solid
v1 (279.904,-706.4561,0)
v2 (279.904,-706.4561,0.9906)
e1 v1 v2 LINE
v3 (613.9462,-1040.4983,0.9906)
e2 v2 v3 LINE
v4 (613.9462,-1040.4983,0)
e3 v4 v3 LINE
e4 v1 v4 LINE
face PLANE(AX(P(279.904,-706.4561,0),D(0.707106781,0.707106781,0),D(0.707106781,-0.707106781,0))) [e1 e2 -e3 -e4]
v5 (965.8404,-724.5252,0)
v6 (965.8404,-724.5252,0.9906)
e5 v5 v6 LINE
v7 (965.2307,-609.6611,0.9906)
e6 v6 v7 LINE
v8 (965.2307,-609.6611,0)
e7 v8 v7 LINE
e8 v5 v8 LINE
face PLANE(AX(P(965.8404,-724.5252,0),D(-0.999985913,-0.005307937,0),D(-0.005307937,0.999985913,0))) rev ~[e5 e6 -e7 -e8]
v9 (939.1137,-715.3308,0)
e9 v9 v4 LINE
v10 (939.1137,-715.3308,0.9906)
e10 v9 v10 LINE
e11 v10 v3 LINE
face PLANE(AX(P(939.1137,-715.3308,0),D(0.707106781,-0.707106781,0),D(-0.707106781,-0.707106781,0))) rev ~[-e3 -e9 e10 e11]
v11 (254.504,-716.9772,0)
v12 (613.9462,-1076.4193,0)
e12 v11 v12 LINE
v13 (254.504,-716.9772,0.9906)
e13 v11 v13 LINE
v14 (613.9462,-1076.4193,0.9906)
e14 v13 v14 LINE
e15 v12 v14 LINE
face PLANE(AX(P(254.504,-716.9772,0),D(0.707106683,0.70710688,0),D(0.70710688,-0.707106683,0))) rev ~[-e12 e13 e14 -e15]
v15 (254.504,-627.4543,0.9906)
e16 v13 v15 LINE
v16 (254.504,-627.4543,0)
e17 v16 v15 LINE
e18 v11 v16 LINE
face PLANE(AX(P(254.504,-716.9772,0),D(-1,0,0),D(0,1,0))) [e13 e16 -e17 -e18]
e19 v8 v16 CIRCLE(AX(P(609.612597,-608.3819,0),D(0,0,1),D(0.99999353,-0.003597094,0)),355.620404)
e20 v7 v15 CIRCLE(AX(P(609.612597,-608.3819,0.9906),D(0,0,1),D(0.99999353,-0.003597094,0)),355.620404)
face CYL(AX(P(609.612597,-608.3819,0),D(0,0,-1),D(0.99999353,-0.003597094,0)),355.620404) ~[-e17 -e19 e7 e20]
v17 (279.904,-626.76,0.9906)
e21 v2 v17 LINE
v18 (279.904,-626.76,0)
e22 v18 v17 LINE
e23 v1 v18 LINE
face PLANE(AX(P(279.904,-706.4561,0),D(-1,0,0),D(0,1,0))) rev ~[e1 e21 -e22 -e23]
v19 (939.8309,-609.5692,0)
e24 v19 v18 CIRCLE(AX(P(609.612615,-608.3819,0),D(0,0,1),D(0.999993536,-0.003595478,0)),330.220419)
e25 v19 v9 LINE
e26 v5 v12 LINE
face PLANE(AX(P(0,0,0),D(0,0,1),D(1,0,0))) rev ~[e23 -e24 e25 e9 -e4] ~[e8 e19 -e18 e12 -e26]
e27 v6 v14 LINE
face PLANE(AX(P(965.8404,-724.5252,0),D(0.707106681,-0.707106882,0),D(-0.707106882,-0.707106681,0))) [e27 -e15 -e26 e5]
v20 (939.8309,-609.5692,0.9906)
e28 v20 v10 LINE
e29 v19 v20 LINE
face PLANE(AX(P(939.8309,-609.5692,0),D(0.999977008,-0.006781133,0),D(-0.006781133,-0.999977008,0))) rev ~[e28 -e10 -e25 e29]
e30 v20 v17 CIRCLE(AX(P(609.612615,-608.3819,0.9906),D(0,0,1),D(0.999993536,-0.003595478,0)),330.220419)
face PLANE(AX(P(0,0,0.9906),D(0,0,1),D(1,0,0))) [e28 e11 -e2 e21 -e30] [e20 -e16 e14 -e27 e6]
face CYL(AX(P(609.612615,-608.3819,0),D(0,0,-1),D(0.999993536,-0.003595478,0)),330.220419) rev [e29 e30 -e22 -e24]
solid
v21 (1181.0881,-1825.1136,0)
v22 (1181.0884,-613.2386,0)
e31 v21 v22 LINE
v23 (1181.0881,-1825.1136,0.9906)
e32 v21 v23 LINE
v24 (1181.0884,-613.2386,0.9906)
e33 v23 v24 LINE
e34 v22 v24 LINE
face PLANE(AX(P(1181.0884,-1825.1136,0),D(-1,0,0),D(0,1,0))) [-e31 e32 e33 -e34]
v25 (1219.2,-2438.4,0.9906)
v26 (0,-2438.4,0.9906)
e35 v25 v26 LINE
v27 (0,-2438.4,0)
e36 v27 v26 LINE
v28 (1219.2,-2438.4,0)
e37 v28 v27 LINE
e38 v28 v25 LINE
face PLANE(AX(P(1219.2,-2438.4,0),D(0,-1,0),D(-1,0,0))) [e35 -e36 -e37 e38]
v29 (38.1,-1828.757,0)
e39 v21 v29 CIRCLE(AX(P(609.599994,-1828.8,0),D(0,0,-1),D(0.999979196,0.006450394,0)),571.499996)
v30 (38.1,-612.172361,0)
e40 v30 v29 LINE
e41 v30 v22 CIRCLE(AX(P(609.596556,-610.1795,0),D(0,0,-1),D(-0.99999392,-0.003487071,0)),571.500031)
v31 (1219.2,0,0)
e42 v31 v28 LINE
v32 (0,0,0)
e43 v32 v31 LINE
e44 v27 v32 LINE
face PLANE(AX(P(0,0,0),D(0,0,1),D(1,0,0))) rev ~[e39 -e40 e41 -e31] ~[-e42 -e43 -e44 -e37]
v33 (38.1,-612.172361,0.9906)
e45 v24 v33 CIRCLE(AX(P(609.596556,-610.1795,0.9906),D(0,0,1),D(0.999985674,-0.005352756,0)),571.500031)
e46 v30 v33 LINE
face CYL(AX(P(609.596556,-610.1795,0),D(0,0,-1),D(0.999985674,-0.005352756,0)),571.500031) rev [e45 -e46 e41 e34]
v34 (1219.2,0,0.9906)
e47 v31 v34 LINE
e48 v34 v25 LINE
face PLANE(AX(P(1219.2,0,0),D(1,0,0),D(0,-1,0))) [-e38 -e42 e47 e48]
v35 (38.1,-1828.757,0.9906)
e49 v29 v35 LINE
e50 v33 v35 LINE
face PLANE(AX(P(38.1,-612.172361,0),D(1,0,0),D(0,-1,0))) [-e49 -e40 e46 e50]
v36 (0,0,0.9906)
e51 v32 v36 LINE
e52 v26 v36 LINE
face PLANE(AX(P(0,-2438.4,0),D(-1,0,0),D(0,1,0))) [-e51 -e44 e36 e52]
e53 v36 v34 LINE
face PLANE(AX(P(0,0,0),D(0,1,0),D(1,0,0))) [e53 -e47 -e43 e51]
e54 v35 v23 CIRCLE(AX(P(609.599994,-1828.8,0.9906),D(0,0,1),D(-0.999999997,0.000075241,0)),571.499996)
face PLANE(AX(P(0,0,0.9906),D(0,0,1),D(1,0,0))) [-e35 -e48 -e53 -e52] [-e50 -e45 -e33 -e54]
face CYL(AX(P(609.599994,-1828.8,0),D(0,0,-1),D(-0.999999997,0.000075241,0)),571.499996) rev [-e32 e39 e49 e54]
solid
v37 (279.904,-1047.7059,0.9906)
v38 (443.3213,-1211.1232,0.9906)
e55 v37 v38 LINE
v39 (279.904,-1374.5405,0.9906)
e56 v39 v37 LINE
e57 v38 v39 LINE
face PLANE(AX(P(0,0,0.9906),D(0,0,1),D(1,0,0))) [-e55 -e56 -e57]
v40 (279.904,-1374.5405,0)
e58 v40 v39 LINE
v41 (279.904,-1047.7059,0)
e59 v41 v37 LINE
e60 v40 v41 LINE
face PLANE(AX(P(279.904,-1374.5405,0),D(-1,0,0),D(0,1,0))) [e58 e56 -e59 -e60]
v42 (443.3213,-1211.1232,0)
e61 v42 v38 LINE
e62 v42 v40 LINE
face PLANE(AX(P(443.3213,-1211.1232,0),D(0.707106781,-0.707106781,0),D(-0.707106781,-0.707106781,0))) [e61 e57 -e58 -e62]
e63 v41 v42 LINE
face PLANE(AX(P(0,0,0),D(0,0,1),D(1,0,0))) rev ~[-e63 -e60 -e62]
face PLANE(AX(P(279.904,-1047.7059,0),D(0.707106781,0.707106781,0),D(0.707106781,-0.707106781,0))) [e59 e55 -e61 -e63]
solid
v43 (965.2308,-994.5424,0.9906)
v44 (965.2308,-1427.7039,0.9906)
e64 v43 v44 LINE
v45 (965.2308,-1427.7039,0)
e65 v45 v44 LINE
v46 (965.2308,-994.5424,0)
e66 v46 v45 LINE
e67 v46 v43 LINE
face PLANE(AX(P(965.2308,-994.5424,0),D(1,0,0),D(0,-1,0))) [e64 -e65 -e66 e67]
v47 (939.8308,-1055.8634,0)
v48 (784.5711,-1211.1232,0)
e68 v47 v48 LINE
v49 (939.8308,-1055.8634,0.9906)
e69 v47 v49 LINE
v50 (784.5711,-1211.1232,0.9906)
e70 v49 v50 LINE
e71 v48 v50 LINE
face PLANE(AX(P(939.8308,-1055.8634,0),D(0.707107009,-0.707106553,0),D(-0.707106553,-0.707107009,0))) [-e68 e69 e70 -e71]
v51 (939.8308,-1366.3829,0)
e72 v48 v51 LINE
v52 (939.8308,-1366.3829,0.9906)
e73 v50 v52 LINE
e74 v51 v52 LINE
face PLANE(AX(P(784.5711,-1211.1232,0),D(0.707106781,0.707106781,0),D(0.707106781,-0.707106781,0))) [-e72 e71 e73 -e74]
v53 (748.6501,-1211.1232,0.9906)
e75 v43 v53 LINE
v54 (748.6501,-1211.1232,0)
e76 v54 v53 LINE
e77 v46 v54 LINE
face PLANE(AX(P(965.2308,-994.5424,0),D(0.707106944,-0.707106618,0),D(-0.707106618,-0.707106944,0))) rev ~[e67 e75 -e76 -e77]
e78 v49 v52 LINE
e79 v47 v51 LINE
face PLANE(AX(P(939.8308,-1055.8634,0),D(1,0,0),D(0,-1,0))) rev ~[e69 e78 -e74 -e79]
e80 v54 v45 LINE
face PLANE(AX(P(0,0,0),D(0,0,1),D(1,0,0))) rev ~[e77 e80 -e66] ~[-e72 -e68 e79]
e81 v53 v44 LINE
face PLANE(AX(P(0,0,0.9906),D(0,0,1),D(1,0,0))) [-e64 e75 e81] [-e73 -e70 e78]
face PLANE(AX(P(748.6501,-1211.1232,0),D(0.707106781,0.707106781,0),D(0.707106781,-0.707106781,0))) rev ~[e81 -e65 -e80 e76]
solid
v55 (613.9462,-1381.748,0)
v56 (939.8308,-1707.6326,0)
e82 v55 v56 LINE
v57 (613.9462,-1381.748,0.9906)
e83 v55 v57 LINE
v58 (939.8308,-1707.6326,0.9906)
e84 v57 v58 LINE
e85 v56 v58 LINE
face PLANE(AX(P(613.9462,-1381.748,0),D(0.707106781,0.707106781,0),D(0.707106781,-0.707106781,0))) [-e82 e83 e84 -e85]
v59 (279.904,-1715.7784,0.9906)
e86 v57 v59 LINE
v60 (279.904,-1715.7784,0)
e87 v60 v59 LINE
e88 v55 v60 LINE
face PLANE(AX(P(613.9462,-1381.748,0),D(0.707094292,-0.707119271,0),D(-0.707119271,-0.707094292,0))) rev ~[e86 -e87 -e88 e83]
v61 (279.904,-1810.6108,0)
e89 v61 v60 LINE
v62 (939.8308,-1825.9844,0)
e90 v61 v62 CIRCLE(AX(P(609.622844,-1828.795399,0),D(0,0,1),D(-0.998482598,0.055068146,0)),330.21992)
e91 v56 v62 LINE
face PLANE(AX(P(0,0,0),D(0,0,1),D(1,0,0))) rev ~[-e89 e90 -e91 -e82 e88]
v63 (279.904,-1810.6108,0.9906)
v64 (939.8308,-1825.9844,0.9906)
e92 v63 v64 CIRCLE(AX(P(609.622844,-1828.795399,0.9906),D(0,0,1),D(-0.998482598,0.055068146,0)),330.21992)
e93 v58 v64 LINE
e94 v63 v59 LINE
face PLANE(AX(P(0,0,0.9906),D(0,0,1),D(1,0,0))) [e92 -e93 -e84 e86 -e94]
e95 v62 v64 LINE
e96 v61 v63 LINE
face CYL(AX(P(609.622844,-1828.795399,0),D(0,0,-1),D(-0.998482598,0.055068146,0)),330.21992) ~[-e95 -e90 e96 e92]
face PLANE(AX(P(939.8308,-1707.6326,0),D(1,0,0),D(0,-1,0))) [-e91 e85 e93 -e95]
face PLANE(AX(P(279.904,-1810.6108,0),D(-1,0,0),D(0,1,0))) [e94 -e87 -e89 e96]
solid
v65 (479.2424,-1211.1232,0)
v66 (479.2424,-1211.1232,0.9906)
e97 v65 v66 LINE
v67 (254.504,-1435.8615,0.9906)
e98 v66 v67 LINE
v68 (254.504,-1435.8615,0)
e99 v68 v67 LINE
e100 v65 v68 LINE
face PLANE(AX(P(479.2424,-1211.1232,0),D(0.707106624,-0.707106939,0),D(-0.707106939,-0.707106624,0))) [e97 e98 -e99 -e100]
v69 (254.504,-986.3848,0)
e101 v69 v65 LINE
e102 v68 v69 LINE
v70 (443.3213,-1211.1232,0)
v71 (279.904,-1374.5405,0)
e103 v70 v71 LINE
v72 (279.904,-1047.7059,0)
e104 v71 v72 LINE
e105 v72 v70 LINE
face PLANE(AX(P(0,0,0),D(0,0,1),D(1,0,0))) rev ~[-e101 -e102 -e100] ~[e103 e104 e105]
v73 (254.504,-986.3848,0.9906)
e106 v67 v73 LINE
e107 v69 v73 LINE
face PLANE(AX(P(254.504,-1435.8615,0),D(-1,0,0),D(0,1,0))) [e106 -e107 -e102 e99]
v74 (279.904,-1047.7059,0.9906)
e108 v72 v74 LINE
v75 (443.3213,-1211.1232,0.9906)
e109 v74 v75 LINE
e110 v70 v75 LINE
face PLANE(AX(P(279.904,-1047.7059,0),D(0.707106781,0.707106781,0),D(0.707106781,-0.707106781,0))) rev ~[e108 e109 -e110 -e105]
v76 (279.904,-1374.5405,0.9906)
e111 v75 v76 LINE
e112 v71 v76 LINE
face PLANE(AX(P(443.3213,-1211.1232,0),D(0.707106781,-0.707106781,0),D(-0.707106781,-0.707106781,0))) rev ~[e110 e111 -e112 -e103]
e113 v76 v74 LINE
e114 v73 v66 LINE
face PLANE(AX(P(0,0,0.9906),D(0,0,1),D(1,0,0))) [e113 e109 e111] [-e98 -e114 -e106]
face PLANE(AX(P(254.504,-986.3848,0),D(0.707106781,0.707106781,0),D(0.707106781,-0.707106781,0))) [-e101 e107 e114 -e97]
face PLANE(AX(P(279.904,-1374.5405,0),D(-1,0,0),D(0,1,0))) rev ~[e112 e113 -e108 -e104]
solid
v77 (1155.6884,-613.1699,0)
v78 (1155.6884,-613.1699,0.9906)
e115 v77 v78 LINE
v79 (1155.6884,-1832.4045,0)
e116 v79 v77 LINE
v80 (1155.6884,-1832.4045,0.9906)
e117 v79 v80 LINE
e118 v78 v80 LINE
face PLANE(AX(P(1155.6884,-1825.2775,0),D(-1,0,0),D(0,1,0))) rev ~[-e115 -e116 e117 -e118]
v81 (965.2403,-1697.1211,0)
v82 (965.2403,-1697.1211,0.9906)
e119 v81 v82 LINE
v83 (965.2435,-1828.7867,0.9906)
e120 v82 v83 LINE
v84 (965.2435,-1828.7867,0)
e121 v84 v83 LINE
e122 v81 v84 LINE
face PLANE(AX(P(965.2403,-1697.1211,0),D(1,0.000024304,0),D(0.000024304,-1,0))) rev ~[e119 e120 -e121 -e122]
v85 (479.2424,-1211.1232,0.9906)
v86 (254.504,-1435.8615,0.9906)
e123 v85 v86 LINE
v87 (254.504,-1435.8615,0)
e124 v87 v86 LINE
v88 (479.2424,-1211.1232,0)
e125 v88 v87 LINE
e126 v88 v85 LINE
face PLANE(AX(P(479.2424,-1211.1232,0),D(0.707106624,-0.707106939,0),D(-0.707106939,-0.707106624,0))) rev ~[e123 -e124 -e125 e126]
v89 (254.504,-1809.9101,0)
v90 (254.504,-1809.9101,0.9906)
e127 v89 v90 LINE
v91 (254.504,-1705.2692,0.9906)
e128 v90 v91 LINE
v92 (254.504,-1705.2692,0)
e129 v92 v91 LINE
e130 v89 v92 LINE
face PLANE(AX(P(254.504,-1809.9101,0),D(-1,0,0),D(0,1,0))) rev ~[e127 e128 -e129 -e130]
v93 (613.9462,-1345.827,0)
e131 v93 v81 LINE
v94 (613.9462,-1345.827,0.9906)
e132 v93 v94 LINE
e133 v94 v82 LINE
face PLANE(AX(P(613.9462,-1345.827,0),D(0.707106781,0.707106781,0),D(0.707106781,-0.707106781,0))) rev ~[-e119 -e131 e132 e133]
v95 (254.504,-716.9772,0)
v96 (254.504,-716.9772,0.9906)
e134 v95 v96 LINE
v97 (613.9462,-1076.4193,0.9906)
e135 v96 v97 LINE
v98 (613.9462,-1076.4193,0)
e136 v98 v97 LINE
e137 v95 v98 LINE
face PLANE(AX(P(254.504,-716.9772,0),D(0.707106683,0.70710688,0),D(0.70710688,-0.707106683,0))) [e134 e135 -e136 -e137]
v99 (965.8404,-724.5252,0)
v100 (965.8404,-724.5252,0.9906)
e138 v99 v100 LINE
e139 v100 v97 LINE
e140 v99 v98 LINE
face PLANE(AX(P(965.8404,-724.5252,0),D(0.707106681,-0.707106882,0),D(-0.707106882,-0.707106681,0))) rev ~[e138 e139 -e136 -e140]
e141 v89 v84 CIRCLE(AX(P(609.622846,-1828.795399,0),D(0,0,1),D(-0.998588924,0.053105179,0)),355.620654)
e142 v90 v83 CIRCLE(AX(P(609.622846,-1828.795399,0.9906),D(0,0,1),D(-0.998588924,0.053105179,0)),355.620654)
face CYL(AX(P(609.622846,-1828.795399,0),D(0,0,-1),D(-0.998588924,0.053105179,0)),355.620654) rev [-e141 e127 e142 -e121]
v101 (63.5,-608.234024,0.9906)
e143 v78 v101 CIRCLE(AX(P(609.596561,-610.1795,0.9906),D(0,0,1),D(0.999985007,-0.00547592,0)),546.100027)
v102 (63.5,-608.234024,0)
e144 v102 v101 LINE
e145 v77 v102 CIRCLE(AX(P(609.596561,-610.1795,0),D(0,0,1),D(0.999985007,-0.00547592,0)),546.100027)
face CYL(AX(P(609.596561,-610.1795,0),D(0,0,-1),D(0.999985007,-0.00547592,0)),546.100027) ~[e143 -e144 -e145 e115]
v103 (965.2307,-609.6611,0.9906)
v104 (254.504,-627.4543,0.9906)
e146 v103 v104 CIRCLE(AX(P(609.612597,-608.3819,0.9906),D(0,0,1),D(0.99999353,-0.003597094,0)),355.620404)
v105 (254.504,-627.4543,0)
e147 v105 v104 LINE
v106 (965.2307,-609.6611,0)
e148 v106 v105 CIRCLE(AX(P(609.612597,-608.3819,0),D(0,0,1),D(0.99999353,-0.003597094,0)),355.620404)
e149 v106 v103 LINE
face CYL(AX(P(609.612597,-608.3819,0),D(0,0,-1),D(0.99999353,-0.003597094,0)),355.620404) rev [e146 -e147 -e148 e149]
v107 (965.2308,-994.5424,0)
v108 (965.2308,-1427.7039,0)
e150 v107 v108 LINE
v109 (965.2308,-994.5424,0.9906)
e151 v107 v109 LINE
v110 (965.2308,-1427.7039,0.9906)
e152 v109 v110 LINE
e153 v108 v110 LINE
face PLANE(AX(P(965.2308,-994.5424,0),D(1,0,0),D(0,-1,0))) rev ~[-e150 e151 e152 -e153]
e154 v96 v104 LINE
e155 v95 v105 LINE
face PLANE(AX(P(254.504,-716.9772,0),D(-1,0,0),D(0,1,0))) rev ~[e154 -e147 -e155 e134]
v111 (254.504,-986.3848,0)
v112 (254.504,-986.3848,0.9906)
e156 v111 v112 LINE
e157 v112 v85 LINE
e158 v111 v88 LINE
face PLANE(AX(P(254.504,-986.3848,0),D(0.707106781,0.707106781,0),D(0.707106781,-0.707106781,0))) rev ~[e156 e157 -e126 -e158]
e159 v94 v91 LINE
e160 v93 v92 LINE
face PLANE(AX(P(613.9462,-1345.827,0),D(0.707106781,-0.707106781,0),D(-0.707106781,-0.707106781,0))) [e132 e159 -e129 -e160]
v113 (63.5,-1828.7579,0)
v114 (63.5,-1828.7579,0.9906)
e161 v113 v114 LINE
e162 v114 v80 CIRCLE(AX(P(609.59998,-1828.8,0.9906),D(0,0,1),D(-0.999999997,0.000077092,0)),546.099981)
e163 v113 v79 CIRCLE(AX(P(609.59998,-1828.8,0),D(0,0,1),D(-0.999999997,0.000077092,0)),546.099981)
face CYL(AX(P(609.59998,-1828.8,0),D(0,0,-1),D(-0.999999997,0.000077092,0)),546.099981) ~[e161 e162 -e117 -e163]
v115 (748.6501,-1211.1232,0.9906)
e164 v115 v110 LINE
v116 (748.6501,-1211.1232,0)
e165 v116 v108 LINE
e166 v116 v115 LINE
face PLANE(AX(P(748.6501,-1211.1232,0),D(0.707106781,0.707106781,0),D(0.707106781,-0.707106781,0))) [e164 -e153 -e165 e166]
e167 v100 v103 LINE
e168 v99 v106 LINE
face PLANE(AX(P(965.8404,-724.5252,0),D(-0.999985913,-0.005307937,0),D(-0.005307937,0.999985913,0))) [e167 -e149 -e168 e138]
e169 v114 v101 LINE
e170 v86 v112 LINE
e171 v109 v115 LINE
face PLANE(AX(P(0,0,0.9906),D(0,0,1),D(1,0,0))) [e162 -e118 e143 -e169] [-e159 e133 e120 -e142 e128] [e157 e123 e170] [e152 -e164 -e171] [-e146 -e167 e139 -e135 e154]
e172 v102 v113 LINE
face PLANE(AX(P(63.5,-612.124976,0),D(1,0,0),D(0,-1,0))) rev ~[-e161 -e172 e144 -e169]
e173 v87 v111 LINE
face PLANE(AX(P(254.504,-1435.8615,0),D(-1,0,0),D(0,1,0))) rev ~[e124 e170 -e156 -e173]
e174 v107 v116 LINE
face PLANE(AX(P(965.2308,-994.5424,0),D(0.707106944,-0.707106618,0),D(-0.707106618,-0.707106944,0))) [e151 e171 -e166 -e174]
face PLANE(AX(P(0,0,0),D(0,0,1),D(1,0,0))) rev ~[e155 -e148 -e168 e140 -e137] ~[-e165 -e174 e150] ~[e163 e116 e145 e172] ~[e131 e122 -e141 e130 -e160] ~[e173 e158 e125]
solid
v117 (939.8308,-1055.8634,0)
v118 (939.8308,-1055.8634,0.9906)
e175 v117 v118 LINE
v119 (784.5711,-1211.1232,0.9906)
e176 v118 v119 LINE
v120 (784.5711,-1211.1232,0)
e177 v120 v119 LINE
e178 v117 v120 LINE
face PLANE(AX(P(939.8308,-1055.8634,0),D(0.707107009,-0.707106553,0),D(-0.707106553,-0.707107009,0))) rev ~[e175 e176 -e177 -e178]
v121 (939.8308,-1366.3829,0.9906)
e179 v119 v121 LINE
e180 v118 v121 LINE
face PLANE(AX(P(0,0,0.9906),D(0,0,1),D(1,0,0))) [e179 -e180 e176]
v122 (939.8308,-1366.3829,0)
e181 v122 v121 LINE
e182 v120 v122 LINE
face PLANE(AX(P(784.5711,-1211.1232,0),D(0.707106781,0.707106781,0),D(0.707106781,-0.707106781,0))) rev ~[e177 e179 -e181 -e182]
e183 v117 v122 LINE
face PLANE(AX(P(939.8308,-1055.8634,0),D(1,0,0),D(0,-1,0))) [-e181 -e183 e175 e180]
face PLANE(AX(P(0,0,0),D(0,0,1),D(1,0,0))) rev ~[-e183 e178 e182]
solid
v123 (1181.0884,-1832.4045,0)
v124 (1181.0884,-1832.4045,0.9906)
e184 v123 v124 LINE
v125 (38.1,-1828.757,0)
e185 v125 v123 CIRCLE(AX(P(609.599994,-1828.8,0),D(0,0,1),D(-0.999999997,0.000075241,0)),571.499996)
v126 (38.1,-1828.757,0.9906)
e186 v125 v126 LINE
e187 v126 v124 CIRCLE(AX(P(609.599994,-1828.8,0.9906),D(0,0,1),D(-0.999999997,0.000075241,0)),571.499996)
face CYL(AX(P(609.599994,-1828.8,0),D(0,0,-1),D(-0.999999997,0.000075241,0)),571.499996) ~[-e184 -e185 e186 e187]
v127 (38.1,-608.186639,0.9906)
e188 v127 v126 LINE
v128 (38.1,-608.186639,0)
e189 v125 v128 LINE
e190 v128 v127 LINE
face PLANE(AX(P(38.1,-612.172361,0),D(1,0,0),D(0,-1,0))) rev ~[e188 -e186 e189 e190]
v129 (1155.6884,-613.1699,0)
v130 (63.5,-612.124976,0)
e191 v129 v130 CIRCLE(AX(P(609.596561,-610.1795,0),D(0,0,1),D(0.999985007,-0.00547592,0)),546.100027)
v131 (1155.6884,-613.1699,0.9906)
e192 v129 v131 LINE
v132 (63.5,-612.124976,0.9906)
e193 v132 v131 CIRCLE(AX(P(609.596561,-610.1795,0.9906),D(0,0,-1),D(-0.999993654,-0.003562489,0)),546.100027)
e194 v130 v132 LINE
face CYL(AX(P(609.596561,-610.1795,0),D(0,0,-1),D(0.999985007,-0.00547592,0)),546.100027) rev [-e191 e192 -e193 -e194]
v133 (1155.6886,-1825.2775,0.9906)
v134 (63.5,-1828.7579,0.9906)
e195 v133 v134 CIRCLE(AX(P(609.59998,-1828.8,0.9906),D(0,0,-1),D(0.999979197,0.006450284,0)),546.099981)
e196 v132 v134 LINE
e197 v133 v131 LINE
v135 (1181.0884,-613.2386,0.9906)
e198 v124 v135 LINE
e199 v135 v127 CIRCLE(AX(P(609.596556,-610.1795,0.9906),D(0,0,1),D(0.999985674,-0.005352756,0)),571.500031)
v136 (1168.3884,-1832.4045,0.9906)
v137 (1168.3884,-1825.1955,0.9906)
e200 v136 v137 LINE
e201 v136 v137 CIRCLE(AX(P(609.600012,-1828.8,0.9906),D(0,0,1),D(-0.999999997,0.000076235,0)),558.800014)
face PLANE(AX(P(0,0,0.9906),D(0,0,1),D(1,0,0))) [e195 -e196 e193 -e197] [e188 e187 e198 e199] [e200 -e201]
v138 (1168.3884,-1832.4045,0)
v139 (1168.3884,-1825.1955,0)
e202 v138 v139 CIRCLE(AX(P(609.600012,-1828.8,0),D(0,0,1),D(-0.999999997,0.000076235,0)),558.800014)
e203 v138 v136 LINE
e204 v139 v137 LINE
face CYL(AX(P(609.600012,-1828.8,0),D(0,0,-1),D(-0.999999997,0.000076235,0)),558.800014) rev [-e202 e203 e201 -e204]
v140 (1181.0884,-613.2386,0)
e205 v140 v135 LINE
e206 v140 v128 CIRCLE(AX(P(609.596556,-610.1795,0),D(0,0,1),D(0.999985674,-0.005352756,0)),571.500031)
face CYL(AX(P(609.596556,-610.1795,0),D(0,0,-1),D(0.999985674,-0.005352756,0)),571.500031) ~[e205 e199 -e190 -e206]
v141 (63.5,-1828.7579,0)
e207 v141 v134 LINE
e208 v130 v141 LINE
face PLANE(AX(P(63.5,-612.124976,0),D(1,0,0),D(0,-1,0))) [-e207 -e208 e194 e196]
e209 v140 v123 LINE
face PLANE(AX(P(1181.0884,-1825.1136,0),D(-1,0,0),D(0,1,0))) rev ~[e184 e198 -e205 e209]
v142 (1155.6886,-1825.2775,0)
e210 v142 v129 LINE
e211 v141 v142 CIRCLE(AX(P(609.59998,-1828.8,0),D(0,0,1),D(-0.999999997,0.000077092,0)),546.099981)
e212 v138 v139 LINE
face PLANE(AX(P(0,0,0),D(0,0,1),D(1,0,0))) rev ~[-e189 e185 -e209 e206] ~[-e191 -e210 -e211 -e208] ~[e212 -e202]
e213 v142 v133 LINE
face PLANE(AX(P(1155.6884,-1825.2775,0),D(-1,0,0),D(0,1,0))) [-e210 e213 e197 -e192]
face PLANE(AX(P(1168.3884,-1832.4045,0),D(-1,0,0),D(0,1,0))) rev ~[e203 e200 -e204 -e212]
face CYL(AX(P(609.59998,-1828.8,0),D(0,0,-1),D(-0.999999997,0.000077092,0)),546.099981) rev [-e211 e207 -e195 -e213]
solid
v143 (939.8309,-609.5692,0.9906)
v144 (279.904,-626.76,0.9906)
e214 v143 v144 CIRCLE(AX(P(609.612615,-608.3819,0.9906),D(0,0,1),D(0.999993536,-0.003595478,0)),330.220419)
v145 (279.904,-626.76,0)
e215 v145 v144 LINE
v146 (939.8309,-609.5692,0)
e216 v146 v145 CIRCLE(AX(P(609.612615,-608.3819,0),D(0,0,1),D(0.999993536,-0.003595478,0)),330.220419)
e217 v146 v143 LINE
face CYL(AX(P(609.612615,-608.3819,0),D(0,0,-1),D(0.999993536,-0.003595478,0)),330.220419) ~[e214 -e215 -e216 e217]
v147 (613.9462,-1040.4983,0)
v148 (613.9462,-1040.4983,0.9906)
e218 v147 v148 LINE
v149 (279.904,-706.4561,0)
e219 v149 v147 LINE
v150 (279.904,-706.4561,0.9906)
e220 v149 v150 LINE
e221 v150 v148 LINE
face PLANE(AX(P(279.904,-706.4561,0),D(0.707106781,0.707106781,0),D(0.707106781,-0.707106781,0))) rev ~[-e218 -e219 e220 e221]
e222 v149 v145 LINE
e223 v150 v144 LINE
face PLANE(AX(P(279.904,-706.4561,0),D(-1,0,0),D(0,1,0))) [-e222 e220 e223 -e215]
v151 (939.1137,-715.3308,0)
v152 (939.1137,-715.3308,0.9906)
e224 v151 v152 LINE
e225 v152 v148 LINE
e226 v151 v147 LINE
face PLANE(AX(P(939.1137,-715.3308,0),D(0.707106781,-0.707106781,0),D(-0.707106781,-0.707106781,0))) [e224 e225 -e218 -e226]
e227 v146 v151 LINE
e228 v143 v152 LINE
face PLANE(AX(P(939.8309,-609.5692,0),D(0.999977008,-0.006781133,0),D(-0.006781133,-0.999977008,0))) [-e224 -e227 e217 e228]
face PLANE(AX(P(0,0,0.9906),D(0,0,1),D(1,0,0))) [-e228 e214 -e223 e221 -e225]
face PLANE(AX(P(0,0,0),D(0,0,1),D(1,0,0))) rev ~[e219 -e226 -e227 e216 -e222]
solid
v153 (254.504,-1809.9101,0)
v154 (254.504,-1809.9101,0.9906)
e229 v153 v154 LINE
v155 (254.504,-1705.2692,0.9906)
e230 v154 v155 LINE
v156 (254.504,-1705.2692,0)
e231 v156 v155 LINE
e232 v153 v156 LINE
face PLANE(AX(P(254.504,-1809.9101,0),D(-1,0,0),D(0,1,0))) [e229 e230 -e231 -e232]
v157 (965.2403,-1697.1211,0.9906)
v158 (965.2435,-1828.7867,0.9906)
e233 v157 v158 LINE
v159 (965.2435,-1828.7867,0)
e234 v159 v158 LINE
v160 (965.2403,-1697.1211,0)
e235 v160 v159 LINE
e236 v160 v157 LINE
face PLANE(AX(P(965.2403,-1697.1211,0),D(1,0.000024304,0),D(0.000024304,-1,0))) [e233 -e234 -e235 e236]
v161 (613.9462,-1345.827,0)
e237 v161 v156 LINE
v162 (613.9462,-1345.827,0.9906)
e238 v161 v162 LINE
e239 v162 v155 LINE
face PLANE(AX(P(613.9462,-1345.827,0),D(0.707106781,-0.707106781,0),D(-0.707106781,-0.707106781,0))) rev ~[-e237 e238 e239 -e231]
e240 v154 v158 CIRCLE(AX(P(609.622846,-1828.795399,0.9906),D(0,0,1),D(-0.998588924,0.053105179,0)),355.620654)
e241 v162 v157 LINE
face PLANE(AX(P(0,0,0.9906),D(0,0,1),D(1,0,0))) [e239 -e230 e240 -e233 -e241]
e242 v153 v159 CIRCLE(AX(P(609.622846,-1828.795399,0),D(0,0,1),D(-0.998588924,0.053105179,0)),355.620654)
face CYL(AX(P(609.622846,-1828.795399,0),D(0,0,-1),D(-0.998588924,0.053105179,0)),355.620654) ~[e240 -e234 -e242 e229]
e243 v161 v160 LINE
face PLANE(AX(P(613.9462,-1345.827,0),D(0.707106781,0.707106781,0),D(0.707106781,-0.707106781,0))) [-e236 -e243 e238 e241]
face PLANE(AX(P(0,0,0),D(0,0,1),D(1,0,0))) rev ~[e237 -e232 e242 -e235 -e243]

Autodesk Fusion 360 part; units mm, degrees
sketch "Sketch3" plane through (0, 0, 0) normal (0, 0, 1) x (1, 0, 0)
  line L0 (0, 0) -> (1219.2, 0)
  line L1 (1219.2, 0) -> (1219.2, -2438.4)
  line L2 (1219.2, -2438.4) -> (0, -2438.4)
  line L3 (0, -2438.4) -> (0, 0)
  line L4 (50.8, -612.14) -> (50.8, -1828.7574)
  line L5 (1168.3884, -1832.4045) -> (1168.3884, -613.2045)
  line L6 (266.7088, -711.2214) -> (1236.5646, -711.2214) construction
  arc A0 (1168.3884, -613.2045) -> (50.8, -612.14) centre (609.5966, -610.1795) ccw
  line L7 (956.7703, -715.6347) -> (952.5308, -719.8742)
  arc A1 (952.5308, -609.6133) -> (267.204, -627.1104) centre (609.6126, -608.3819) ccw
  arc A2 (50.8, -1828.7574) -> (1168.3884, -1825.1955) centre (609.6, -1828.8) ccw
  arc A3 (267.204, -1810.2641) -> (952.5308, -1825.9311) centre (609.6229, -1828.7954) ccw
  line L8 (267.204, -1017.0454) -> (461.2819, -1211.1232)
  line L9 (613.9462, -1363.7875) -> (952.5308, -1702.3721)
  line L10 (932.9449, -739.4601) -> (613.9462, -1058.4588)
  line L11 (461.2819, -1211.1232) -> (267.204, -1405.201)
  line L12 (266.7088, -711.2214) -> (613.9462, -1058.4588)
  line L13 (766.6106, -1211.1232) -> (952.5308, -1397.0434)
  line L14 (952.5308, -1025.2029) -> (766.6106, -1211.1232)
  line L15 (613.9462, -1363.7875) -> (270.9285, -1706.8053)
  line L16 (267.204, -711.7167) -> (267.204, -627.1104)
  line L17 (952.5308, -609.6133) -> (952.5308, -719.8742)
  line L18 (952.5308, -1025.2029) -> (952.5308, -1397.0434)
  line L19 (952.5308, -1702.3721) -> (952.5308, -1825.9311)
  line L20 (267.204, -1810.2641) -> (267.204, -1710.5297)
  line L21 (267.204, -1405.201) -> (267.204, -1017.0454)
  line L22 (1181.0884, -1832.4045) -> (1181.0884, -613.2386)
  arc A4 (1181.0884, -613.2386) -> (38.1055, -613.3823) centre (609.5966, -610.1795) ccw
  line L23 (1155.6884, -1832.4045) -> (1155.6884, -613.1699)
  arc A5 (1155.6884, -613.1699) -> (63.5051, -613.2381) centre (609.5966, -610.1795) ccw
  line L24 (38.1, -606.1098) -> (38.1, -1828.757)
  arc A6 (38.1, -1828.757) -> (1181.0881, -1825.1136) centre (609.6, -1828.8) ccw
  line L25 (63.5, -606.1098) -> (63.5, -1828.7579)
  arc A7 (63.5, -1828.7579) -> (1155.6886, -1825.2775) centre (609.6, -1828.8) ccw
  line L26 (254.504, -716.9772) -> (613.9462, -1076.4193)
  line L27 (965.9401, -724.4255) -> (613.9462, -1076.4193)
  line L28 (279.904, -706.4561) -> (613.9462, -1040.4983)
  line L29 (939.1137, -715.3308) -> (613.9462, -1040.4983)
  arc A8 (965.2307, -609.6611) -> (254.504, -627.4543) centre (609.6126, -608.3819) ccw
  arc A9 (939.8309, -609.5692) -> (279.904, -626.76) centre (609.6126, -608.3819) ccw
  line L30 (965.8404, -724.5252) -> (965.8963, -724.4693)
  line L31 (279.904, -706.4561) -> (279.904, -626.76)
  line L32 (254.504, -716.9772) -> (254.504, -627.4543)
  line L33 (443.3213, -1211.1232) -> (279.904, -1374.5405)
  line L34 (279.904, -1374.5405) -> (279.904, -1047.7059)
  line L35 (279.904, -1047.7059) -> (443.3213, -1211.1232)
  line L36 (479.2424, -1211.1232) -> (254.504, -1435.8615)
  line L37 (254.504, -1435.8615) -> (254.504, -986.3848)
  line L38 (254.504, -986.3848) -> (479.2424, -1211.1232)
  line L39 (965.2308, -994.5424) -> (965.2308, -1427.7039)
  line L40 (748.6501, -1211.1232) -> (965.2308, -1427.7039)
  line L41 (965.2308, -994.5424) -> (748.6501, -1211.1232)
  line L42 (939.8308, -1055.8634) -> (939.8308, -1366.3829)
  line L43 (784.5711, -1211.1232) -> (939.8308, -1366.3829)
  line L44 (939.8308, -1055.8634) -> (784.5711, -1211.1232)
  line L45 (254.504, -1809.9101) -> (254.504, -1705.2692)
  arc A10 (254.504, -1809.9101) -> (965.2435, -1828.7867) centre (609.6229, -1828.7954) ccw
  line L46 (613.9462, -1345.827) -> (965.2403, -1697.1211)
  line L47 (613.9462, -1345.827) -> (254.504, -1705.2692)
  line L48 (939.8309, -609.5692) -> (939.1137, -715.3308)
  line L49 (965.8404, -724.5252) -> (965.2307, -609.6611)
  line L50 (965.2403, -1697.1211) -> (965.2435, -1828.7867)
  line L51 (279.904, -1810.6108) -> (279.904, -1715.7784)
  arc A11 (279.904, -1810.6108) -> (939.8308, -1825.9844) centre (609.6229, -1828.7954) ccw
  line L52 (939.8308, -1707.6326) -> (939.8308, -1825.9844)
  line L53 (613.9462, -1381.748) -> (939.8308, -1707.6326)
  line L54 (613.9462, -1381.748) -> (279.9087, -1715.7855)
  line L55 (254.504, -1435.8615) -> (254.504, -1705.2692) construction
  line L56 (479.2424, -1211.1232) -> (613.9462, -1076.4193) construction
  line L57 (748.6501, -1211.1232) -> (613.9391, -1076.4122) construction
  line L58 (748.6501, -1211.1232) -> (613.9462, -1345.827) construction
  line L59 (965.2308, -1427.7039) -> (965.2403, -1697.1211) construction
  line L60 (965.2308, -994.5424) -> (965.9401, -724.4255) construction
  line L61 (254.504, -716.9772) -> (254.504, -986.3848) construction
  point P0 (609.6, -1219.2)
  point P1 (952.4942, -1727.2)
  point P2 (266.7088, -711.2214)
  point P3 (266.7223, -1727.2)
  point P4 (956.7703, -715.6347)
  point P5 (952.4944, -1524)
  point P6 (266.7222, -1524)
  point P7 (266.7223, -914.4)
  dimension "d4" = 1219.2
  dimension "d5" = 2438.4
  dimension "d7" = 1117.6
sketch "Sketch4" plane through (0, 0, 0) normal (0, 0, 1) x (1, 0, 0)
extrude "Extrude2" add sketch "Sketch3" along normal blind 0.9906 contours L4 L5 A0 A2 | L8 L11 L21 | L13 L14 L18 | L22 A4 L24 A6 | L26 L27 A8 L32 L49 | L36 L37 L38 | L39 L40 L41 | L45 A10 L46 L47 L50 makes body 1 at (494.1322, -944.6316, 0) makes body 2 at (262.9707, -1156.6507, 0) makes body 3 at (956.7641, -1159.3699, 0) makes body 4 at (46.5667, -1016.3571, 0.9906) makes body 5 at (611.2302, -1582.7391, 0)
extrude "Extrude3" add sketch "Sketch3" along normal blind 0.9906 separate body contours L0 L1 L2 L3 | L23 A5 L25 A7 makes body 6 at (1072.5358, -2309.2802, 0) makes body 7 at (127.168, -1290.9536, 0)
extrude "Extrude4" add sketch "Sketch3" along normal blind 0.9906 separate body contours L28 L29 A9 L31 L48 makes body 8
extrude "Extrude5" add sketch "Sketch3" along normal blind 0.9906 separate body contours L51 A11 L52 L53 L54 makes body 9
extrude "Extrude6" add sketch "Sketch3" along normal blind 0.9906 separate body contours L42 L43 L44 makes body 10
extrude "Extrude7" add sketch "Sketch3" along normal blind 0.9906 separate body contours L33 L34 L35 makes body 11
extrude "Extrude1" [suppressed]
